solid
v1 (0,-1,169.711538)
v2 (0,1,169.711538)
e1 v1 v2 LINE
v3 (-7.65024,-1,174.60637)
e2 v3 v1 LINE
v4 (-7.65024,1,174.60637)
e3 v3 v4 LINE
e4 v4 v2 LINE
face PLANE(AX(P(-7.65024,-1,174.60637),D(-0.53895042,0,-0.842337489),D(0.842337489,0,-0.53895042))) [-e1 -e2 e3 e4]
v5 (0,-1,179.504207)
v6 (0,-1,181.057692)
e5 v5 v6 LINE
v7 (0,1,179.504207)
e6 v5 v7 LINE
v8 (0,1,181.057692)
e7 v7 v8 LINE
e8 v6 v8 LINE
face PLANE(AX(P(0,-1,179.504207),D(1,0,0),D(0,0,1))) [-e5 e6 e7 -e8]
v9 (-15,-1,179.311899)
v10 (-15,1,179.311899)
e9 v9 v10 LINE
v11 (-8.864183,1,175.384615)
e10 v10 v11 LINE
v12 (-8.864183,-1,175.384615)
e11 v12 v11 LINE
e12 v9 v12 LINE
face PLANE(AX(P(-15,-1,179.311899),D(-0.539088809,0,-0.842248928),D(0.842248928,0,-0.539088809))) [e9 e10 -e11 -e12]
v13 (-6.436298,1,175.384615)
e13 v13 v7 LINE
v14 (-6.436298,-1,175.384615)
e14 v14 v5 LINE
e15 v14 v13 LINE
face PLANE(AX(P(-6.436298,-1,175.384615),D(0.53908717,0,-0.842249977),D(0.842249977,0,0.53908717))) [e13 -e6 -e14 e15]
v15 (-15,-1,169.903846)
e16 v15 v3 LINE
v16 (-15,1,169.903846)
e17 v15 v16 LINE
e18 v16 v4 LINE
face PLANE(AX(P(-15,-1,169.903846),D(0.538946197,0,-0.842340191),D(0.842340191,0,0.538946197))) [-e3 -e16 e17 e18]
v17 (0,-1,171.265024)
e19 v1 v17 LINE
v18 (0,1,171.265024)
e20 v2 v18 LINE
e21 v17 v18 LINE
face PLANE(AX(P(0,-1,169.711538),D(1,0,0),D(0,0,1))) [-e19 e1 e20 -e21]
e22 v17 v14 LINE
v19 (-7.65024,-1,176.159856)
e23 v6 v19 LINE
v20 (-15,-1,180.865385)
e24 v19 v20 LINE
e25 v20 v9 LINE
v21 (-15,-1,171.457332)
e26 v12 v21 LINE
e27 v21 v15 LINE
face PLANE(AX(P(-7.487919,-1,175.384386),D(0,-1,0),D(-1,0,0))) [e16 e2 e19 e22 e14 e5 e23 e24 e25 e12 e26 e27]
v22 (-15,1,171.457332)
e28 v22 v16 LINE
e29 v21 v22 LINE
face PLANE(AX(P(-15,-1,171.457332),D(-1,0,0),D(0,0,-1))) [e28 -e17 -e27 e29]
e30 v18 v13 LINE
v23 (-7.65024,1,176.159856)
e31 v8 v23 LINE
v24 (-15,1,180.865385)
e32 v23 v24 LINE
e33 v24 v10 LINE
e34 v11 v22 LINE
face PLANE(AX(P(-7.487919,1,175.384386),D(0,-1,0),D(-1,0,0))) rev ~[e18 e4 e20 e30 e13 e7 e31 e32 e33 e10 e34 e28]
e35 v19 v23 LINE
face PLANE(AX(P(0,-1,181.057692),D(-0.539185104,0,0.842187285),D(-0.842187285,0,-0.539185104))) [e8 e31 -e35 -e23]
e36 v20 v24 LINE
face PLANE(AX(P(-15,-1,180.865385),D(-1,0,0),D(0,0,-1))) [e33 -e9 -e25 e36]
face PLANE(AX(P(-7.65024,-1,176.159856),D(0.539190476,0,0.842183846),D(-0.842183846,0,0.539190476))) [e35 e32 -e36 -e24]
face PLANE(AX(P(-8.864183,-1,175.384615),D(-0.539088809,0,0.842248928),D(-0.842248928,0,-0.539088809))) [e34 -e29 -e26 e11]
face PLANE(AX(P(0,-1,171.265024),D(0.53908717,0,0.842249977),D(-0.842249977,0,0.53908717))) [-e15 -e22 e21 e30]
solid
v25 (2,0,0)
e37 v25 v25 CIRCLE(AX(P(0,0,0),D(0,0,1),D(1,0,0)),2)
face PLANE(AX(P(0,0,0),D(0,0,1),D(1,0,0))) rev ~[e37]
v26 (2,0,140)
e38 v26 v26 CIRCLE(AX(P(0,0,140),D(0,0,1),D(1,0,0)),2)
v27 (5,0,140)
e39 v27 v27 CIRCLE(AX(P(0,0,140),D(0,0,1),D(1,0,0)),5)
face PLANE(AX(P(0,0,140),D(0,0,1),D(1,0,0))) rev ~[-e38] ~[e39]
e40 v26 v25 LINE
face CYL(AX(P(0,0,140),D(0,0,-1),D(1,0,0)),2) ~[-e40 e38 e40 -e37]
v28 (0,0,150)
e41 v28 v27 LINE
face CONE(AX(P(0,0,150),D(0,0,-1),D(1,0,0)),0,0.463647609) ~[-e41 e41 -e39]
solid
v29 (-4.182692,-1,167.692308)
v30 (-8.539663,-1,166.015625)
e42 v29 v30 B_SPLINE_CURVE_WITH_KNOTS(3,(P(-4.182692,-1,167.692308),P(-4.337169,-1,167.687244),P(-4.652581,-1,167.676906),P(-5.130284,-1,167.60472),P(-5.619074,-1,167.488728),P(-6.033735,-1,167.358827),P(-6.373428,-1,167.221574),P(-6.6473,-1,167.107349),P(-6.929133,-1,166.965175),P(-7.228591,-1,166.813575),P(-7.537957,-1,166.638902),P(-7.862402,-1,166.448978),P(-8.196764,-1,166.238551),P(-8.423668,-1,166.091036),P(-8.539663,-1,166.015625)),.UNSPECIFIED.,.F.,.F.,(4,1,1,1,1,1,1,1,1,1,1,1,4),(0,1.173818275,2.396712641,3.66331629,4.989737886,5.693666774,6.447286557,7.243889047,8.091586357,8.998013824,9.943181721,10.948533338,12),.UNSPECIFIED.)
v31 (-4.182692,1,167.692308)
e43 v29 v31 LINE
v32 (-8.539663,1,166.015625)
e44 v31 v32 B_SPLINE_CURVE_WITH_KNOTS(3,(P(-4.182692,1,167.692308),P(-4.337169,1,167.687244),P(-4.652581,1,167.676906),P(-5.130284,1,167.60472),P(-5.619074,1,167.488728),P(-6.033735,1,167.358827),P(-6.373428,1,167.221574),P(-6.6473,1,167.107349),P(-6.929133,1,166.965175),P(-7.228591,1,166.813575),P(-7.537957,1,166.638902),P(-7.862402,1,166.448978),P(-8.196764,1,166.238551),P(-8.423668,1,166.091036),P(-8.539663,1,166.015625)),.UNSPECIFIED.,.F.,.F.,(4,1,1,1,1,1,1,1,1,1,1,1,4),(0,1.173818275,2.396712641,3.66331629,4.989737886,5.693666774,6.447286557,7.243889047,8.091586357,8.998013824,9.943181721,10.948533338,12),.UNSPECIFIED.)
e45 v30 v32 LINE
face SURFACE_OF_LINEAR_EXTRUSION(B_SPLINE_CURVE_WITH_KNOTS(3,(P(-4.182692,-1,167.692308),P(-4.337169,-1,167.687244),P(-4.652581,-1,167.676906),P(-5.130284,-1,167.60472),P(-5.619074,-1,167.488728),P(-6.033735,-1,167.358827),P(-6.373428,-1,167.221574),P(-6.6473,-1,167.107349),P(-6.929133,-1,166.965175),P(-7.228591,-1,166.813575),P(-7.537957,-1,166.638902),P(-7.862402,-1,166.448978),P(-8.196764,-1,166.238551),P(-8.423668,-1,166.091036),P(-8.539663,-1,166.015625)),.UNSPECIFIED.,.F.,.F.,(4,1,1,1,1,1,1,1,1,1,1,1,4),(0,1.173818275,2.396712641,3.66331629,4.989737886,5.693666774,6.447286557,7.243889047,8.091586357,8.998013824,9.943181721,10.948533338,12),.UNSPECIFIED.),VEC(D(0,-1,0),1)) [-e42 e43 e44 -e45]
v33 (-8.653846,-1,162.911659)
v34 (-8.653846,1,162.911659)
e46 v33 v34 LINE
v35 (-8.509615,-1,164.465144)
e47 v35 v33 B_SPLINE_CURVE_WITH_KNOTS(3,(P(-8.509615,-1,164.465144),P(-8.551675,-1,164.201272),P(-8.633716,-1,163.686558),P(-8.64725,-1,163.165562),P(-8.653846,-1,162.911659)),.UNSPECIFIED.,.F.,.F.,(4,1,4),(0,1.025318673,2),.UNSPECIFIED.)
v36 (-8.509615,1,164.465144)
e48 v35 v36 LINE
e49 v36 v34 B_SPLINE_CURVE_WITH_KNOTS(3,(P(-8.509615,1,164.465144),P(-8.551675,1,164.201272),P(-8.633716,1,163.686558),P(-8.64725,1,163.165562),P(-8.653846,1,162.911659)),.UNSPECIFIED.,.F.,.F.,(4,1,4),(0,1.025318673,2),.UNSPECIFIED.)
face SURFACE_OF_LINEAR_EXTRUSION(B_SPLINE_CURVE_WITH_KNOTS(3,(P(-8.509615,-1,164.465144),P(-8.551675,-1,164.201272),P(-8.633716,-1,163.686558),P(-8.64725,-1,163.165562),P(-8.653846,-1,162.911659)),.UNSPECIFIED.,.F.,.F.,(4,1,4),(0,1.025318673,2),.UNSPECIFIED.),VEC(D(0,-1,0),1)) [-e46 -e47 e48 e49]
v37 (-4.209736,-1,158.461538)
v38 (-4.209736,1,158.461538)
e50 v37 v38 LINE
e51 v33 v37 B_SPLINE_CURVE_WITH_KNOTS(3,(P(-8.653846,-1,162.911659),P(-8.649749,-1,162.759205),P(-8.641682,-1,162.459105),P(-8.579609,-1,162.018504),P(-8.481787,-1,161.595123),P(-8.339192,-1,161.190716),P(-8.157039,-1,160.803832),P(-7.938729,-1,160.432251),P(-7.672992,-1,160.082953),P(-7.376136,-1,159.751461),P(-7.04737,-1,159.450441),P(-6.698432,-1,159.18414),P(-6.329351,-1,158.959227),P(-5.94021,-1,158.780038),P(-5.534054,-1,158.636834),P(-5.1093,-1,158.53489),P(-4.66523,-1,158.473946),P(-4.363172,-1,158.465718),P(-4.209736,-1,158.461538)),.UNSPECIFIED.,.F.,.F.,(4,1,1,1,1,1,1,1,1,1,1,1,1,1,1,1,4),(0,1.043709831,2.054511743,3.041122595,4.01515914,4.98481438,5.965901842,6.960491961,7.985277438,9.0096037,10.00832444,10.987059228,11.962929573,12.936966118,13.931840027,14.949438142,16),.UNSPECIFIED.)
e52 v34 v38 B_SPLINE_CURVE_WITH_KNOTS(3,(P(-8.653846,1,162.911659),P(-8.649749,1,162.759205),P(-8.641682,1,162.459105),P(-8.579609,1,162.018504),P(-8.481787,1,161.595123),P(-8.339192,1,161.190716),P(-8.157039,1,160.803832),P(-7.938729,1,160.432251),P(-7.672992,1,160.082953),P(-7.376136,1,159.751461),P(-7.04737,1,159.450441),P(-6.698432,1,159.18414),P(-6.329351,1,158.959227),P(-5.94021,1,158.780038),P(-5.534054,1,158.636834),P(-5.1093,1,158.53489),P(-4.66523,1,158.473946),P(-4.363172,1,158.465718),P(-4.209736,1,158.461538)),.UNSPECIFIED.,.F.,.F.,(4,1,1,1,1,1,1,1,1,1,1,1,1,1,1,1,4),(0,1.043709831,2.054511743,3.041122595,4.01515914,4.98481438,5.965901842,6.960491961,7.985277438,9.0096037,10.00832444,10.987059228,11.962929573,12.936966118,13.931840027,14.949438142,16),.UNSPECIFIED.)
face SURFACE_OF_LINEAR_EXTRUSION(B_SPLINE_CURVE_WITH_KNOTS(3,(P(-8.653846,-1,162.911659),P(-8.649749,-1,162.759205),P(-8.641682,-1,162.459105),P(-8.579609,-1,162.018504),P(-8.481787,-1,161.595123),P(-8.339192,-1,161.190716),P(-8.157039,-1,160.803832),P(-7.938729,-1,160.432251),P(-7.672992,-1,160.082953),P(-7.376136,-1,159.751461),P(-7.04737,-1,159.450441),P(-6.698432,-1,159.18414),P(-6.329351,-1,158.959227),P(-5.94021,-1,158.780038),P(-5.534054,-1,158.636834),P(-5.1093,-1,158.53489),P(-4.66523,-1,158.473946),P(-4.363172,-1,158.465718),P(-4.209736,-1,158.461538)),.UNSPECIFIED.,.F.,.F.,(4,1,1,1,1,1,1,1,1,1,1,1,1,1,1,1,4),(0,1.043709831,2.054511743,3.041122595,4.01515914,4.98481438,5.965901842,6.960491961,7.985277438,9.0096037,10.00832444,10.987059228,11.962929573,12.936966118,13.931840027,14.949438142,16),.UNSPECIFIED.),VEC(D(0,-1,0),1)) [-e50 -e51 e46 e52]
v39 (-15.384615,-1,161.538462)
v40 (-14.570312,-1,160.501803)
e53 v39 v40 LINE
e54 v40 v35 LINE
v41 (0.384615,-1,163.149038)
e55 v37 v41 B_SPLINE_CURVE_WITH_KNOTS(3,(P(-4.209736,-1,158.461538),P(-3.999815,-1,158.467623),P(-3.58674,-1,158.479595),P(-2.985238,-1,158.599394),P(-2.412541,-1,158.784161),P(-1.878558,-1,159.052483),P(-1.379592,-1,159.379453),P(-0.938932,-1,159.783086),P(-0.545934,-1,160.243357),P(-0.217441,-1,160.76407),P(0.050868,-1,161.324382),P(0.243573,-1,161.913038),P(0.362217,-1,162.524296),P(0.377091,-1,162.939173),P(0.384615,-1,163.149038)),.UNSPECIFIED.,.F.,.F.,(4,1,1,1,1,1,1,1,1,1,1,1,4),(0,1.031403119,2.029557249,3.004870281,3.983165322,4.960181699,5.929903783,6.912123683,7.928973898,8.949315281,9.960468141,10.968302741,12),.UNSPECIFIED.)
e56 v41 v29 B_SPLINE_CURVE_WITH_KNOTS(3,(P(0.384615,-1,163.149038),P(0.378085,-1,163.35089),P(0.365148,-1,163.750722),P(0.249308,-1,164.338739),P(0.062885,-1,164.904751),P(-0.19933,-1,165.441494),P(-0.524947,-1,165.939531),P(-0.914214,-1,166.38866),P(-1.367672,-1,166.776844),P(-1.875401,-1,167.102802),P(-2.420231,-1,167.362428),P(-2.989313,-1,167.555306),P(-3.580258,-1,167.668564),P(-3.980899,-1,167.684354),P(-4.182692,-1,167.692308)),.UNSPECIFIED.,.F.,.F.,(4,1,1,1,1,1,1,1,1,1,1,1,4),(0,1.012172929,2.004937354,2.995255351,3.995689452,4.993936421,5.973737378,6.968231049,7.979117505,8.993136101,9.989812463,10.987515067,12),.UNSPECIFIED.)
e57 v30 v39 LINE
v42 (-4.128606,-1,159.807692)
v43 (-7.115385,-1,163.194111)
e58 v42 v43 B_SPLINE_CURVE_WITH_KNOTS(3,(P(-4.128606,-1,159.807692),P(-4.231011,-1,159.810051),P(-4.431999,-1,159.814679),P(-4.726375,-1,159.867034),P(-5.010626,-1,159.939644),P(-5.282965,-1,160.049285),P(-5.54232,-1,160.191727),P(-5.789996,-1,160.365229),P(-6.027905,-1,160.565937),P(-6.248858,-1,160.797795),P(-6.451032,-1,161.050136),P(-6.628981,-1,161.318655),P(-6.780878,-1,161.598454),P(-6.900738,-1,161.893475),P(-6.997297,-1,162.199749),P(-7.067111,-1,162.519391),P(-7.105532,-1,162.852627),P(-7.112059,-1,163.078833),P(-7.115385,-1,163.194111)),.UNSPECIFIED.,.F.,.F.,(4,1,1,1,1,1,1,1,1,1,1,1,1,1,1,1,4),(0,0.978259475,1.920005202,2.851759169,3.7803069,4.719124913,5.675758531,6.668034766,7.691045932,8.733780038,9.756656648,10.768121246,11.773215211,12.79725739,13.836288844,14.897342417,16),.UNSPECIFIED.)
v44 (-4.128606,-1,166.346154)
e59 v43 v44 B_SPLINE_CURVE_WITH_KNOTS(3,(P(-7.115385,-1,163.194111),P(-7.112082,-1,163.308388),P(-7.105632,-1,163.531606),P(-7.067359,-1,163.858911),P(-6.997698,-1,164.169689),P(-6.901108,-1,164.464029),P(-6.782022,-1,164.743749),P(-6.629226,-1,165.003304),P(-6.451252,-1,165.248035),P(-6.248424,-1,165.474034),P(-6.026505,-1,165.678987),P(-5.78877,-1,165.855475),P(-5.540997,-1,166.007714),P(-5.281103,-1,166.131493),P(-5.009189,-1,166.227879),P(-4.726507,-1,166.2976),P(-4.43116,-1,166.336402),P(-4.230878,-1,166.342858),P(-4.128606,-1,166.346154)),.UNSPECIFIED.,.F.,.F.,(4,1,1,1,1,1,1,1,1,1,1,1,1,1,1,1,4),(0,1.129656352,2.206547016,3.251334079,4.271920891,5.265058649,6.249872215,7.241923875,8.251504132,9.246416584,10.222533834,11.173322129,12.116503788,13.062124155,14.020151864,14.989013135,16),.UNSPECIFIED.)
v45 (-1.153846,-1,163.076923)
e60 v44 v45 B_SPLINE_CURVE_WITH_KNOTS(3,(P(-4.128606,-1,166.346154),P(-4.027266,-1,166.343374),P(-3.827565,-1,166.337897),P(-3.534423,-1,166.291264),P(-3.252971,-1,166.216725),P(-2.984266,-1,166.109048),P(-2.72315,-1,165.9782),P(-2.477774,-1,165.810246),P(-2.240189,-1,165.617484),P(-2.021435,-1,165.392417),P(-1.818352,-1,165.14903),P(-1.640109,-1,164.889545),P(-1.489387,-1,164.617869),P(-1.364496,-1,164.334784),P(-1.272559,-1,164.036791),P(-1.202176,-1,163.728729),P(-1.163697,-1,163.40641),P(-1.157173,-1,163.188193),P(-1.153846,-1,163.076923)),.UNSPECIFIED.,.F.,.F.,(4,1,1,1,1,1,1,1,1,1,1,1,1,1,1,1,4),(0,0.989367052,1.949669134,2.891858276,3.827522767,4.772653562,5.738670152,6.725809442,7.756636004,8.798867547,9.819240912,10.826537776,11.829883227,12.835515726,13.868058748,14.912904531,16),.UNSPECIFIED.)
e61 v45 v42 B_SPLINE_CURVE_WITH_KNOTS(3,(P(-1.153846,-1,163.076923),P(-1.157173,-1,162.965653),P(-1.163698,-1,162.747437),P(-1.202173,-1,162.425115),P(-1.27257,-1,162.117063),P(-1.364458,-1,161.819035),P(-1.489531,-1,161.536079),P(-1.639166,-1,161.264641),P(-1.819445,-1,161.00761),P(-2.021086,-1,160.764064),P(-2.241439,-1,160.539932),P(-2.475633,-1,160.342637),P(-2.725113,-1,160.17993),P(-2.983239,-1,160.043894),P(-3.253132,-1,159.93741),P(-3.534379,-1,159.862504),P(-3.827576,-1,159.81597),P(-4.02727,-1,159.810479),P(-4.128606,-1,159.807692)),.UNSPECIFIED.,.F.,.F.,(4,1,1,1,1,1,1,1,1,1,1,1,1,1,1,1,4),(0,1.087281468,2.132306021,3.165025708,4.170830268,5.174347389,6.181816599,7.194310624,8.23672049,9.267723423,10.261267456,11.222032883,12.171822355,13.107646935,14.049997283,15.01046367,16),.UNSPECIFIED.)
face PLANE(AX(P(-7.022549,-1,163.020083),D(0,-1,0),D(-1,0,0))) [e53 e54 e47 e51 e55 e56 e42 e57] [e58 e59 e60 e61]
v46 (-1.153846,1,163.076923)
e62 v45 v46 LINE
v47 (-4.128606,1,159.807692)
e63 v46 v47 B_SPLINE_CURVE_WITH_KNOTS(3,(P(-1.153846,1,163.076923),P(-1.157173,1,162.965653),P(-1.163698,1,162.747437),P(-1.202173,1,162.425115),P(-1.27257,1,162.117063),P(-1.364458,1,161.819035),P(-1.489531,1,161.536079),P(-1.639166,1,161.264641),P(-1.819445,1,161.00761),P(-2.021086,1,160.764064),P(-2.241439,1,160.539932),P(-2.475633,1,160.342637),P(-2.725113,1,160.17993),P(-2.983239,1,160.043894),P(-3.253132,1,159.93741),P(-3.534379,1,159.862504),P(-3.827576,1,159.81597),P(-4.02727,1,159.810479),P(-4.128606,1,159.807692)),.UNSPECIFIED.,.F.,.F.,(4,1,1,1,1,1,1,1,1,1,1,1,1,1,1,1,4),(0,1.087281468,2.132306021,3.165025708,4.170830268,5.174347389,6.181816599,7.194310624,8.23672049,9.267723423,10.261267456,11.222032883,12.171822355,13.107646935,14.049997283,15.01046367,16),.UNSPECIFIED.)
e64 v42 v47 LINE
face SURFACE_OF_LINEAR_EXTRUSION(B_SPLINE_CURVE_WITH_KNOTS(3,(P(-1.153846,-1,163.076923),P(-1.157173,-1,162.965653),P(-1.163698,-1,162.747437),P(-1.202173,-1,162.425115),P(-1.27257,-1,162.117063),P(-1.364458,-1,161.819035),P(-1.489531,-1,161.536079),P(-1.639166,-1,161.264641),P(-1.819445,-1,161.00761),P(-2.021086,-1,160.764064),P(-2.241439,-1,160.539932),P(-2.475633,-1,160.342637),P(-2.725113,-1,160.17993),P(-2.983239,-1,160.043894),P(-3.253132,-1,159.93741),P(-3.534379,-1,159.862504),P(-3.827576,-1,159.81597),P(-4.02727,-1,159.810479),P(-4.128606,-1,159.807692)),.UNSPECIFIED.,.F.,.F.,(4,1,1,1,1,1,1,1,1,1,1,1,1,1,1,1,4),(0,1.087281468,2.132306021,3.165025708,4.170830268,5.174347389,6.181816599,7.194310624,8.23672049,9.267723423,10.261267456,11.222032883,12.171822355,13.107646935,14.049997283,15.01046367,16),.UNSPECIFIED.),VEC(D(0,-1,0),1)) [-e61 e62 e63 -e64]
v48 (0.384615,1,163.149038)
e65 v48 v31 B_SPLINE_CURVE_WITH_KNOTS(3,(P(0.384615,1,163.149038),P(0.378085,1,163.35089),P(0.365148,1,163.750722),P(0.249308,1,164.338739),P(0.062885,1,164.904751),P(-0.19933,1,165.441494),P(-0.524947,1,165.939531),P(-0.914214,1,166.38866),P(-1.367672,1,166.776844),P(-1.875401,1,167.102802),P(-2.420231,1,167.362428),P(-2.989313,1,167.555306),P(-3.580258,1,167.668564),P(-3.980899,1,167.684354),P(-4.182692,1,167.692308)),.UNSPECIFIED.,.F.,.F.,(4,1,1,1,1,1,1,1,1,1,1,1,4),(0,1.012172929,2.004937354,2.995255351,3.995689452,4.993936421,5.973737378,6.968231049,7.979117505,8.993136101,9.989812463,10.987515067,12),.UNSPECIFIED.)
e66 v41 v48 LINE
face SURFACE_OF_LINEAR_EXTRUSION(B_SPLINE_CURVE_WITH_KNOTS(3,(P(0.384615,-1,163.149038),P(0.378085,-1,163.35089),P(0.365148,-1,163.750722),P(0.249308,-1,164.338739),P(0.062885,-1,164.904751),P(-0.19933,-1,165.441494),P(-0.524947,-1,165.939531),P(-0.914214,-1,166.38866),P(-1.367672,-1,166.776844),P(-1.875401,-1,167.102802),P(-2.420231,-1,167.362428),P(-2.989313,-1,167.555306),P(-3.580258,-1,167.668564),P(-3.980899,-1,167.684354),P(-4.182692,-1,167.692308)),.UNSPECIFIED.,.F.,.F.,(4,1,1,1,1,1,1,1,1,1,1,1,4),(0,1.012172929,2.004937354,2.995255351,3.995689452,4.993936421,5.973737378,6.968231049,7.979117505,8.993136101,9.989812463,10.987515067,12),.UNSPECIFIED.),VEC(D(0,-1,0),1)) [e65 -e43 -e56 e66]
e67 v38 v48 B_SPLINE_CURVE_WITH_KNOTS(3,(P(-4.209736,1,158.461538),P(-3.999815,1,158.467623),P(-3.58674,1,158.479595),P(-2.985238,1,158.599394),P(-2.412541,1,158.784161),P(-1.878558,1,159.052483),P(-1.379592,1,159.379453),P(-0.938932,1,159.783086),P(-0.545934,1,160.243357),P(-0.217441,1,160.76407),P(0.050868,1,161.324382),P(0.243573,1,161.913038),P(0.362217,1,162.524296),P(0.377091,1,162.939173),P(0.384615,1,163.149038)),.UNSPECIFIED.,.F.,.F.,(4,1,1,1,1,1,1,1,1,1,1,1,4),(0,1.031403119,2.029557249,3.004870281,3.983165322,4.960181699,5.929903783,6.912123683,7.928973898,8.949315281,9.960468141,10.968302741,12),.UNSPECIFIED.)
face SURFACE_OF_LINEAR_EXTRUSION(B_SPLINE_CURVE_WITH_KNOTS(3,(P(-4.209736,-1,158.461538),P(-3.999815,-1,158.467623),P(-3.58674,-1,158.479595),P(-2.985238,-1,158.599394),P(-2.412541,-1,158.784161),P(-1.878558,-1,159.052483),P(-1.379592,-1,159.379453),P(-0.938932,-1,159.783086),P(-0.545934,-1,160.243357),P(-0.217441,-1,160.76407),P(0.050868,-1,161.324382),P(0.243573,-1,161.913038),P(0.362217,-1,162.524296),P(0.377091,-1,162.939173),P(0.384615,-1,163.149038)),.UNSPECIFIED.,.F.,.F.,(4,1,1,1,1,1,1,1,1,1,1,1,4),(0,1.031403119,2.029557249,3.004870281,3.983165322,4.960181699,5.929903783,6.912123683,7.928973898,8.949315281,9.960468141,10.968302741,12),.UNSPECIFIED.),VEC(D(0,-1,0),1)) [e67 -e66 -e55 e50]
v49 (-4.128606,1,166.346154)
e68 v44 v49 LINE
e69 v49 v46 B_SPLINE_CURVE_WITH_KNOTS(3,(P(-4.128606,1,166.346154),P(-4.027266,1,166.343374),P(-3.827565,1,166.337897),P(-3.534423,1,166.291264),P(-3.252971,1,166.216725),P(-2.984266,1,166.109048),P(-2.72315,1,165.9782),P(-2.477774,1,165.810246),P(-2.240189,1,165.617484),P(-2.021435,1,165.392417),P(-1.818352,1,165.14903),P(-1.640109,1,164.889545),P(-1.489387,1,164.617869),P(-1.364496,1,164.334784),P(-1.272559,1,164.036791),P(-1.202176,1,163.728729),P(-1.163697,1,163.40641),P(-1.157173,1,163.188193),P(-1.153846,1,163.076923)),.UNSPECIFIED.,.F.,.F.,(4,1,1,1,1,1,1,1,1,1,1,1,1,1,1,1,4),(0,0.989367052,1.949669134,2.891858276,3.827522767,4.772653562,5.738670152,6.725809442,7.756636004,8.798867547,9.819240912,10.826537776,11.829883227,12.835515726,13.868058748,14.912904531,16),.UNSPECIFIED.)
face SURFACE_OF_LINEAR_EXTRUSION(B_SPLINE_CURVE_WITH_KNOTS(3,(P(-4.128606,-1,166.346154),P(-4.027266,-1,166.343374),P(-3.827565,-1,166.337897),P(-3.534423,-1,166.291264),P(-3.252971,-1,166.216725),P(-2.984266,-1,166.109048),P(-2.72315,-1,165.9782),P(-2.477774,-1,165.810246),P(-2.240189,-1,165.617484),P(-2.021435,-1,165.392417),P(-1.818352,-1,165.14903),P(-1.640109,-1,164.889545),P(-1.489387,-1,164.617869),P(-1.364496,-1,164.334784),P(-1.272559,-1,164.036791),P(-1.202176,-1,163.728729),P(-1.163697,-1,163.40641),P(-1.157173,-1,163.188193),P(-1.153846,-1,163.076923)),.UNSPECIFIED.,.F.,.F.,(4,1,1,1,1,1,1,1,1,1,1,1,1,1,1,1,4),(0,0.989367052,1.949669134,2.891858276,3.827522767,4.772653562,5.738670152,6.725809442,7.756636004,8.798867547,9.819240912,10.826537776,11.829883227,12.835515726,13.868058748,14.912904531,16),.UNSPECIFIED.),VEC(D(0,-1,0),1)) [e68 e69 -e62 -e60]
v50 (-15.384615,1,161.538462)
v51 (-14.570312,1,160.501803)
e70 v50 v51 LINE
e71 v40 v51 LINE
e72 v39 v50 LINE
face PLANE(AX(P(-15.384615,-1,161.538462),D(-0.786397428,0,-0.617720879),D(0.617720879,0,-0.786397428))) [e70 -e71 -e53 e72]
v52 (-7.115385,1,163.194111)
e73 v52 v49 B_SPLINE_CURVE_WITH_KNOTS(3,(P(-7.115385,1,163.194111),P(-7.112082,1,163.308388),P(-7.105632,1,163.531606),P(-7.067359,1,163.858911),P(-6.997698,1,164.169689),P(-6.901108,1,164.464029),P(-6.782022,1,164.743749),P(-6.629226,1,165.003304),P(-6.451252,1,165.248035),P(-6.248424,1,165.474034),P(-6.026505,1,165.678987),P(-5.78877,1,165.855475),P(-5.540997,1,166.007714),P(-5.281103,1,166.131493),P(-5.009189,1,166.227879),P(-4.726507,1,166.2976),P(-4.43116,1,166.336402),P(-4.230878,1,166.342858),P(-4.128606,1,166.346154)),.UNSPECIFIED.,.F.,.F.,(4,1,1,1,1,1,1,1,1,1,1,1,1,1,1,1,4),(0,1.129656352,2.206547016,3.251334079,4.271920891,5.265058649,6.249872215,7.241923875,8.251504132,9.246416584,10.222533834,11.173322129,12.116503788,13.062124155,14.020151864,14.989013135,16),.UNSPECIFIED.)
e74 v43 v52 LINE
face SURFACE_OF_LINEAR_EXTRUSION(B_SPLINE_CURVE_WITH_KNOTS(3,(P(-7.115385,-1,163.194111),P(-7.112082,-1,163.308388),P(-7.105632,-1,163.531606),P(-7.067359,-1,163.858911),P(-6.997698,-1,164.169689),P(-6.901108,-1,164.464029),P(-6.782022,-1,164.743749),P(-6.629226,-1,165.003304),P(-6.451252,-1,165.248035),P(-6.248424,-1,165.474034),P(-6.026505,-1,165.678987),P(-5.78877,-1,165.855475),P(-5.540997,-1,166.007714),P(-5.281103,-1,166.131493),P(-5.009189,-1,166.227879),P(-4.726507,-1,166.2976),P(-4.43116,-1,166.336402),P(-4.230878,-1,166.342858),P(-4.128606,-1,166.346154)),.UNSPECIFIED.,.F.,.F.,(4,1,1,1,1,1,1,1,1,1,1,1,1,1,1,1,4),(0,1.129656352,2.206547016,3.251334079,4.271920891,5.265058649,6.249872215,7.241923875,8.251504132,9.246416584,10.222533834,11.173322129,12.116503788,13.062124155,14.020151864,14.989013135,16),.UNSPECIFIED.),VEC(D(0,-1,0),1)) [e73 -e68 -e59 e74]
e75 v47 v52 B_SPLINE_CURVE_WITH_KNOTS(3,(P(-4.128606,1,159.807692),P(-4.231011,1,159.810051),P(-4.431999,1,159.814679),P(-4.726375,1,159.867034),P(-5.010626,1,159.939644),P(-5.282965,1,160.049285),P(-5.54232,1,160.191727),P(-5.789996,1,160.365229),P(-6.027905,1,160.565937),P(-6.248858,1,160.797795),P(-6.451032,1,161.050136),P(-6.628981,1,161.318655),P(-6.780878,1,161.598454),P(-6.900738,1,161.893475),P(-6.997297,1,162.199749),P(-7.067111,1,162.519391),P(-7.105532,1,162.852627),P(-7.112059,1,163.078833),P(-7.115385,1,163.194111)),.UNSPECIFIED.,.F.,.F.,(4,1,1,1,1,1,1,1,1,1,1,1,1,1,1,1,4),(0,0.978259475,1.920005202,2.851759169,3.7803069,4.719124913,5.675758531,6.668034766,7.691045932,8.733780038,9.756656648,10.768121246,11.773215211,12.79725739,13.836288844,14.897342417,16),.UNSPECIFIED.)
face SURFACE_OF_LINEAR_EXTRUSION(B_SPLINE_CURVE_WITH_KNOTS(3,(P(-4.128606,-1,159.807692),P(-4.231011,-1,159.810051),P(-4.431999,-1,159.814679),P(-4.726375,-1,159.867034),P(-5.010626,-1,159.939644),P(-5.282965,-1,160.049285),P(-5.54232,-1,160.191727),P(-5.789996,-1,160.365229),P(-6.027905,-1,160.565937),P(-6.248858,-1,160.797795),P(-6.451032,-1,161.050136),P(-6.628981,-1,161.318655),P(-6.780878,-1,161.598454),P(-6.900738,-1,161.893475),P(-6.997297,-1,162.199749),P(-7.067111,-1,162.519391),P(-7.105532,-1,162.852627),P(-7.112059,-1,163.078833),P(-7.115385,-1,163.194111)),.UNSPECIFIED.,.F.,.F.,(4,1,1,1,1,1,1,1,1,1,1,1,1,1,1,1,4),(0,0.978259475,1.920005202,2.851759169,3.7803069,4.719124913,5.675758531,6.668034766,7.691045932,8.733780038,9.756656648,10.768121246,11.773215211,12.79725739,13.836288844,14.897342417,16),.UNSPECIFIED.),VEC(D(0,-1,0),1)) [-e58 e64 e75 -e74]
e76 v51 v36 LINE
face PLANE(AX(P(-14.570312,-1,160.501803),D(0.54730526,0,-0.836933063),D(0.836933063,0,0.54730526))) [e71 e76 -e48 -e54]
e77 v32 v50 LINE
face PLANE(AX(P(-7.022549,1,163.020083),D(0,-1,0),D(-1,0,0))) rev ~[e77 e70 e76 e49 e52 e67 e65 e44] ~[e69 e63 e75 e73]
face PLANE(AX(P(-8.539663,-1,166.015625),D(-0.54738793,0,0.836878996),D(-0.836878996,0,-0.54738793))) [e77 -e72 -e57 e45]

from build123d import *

# Parameters (mm, degrees)
BOSS_EXTRUDE1_DEPTH        = 1
BOSS_EXTRUDE1_DEPTH_BACK   = 1
BOSS_EXTRUDE1_2_DEPTH      = 1
BOSS_EXTRUDE1_2_DEPTH_BACK = 1


with BuildPart() as part:
    # Sketch2 → Revolve1 (revolve)
    with BuildSketch(Plane(origin=(0, 0, 0), x_dir=(1, 0, 0), z_dir=(0, 1, 0))):
        Polygon((0, -150), (5, -140), (2, -140), (2, 0), (0, 0), align=None)
    revolve(axis=Axis((0, 0, -41.949952025), (0, 0, 1)))


with BuildPart() as body_2:
    # Sketch3 → Boss-Extrude1 (new, two sides: drawn at the far end of the back side and taken through both)
    with BuildSketch(Plane(origin=(0, 0, 0), x_dir=(1, 0, 0), z_dir=(0, 1, 0)).offset(-BOSS_EXTRUDE1_DEPTH_BACK)):
        with BuildLine():
            Line((-15.384615385, -161.538461538), (-14.5703125, -160.501802885))
            Line((-14.5703125, -160.501802885), (-8.509615385, -164.465144231))
            add(Edge.make_bspline(
                [(-8.509615385, -164.465144231), (-8.551674787, -164.201271615), (-8.633716408, -163.686558243), (-8.64725046, -163.165561535), (-8.653846154, -162.911658654)],
                knots=[0, 0, 0, 0, 1.025318673, 2, 2, 2, 2], degree=3))
            add(Edge.make_bspline(
                [(-8.653846154, -162.911658654), (-8.649748532, -162.759205098), (-8.641682487, -162.45910481), (-8.579608839, -162.018504233), (-8.481786938, -161.595123063), (-8.339191529, -161.190716213), (-8.157038681, -160.803831781), (-7.93872886, -160.432250931), (-7.67299167, -160.082953357), (-7.376136314, -159.751460804), (-7.047369878, -159.450441004), (-6.698432357, -159.184140459), (-6.329351346, -158.959227404), (-5.940209844, -158.780037923), (-5.534053996, -158.636833796), (-5.109299766, -158.534889887), (-4.665230263, -158.473946284), (-4.363171943, -158.465718118), (-4.209735577, -158.461538462)],
                knots=[0, 0, 0, 0, 1.043709831, 2.054511743, 3.041122595, 4.01515914, 4.98481438, 5.965901842, 6.960491961, 7.985277438, 9.0096037, 10.00832444, 10.987059228, 11.962929573, 12.936966118, 13.931840027, 14.949438142, 16, 16, 16, 16], degree=3))
            add(Edge.make_bspline(
                [(-4.209735577, -158.461538462), (-3.999814704, -158.46762266), (-3.586740106, -158.479594923), (-2.985237872, -158.599394361), (-2.412540694, -158.784161413), (-1.878558323, -159.052483411), (-1.379592346, -159.379452551), (-0.938932231, -159.783085697), (-0.545933647, -160.243356809), (-0.217440639, -160.764070475), (0.050867747, -161.324382277), (0.243573381, -161.913037725), (0.362217491, -162.524295864), (0.377091411, -162.939172899), (0.384615385, -163.149038462)],
                knots=[0, 0, 0, 0, 1.031403119, 2.029557249, 3.004870281, 3.983165322, 4.960181699, 5.929903783, 6.912123683, 7.928973898, 8.949315281, 9.960468141, 10.968302741, 12, 12, 12, 12], degree=3))
            add(Edge.make_bspline(
                [(0.384615385, -163.149038462), (0.378084543, -163.35088996), (0.36514809, -163.750722436), (0.249307568, -164.33873873), (0.062885284, -164.904751258), (-0.199330062, -165.44149446), (-0.524946662, -165.939531208), (-0.91421359, -166.388660218), (-1.367671637, -166.776844482), (-1.87540114, -167.102802425), (-2.420231006, -167.362427857), (-2.98931297, -167.555305594), (-3.580257904, -167.66856415), (-3.980898774, -167.684354472), (-4.182692308, -167.692307692)],
                knots=[0, 0, 0, 0, 1.012172929, 2.004937354, 2.995255351, 3.995689452, 4.993936421, 5.973737378, 6.968231049, 7.979117505, 8.993136101, 9.989812463, 10.987515067, 12, 12, 12, 12], degree=3))
            add(Edge.make_bspline(
                [(-4.182692308, -167.692307692), (-4.337169093, -167.687244357), (-4.652581173, -167.676905992), (-5.13028415, -167.604720034), (-5.6190745, -167.488728056), (-6.03373533, -167.358827), (-6.373427567, -167.221574386), (-6.647299669, -167.107349216), (-6.92913284, -166.965174947), (-7.22859128, -166.813574742), (-7.53795742, -166.638902447), (-7.862401718, -166.448978235), (-8.196764265, -166.23855116), (-8.423667959, -166.091036177), (-8.539663462, -166.015625)],
                knots=[0, 0, 0, 0, 1.173818275, 2.396712641, 3.66331629, 4.989737886, 5.693666774, 6.447286557, 7.243889047, 8.091586357, 8.998013824, 9.943181721, 10.948533338, 12, 12, 12, 12], degree=3))
            Line((-8.539663462, -166.015625), (-15.384615385, -161.538461538))
        make_face()
        with BuildLine():
            add(Edge.make_bspline(
                [(-7.115384615, -163.194110577), (-7.112082335, -163.308388473), (-7.105632021, -163.531606401), (-7.067359224, -163.858911035), (-6.997698373, -164.169688556), (-6.901107529, -164.464029169), (-6.782022326, -164.743748653), (-6.629225554, -165.003303742), (-6.451252186, -165.248035491), (-6.248424191, -165.474033728), (-6.026504548, -165.678987203), (-5.788770456, -165.855474623), (-5.54099726, -166.007714295), (-5.281102705, -166.131493304), (-5.009189275, -166.2278794), (-4.726506739, -166.29760046), (-4.431159723, -166.336402255), (-4.230877567, -166.342857532), (-4.128605769, -166.346153846)],
                knots=[0, 0, 0, 0, 1.129656352, 2.206547016, 3.251334079, 4.271920891, 5.265058649, 6.249872215, 7.241923875, 8.251504132, 9.246416584, 10.222533834, 11.173322129, 12.116503788, 13.062124155, 14.020151864, 14.989013135, 16, 16, 16, 16], degree=3))
            add(Edge.make_bspline(
                [(-4.128605769, -166.346153846), (-4.027266421, -166.343374379), (-3.827564804, -166.337897099), (-3.534423223, -166.291263565), (-3.252971083, -166.216724728), (-2.984266134, -166.109048351), (-2.723149948, -165.978200106), (-2.47777361, -165.81024631), (-2.240188862, -165.61748415), (-2.021434681, -165.392416719), (-1.818352216, -165.14902973), (-1.640109433, -164.889544686), (-1.489386675, -164.617868563), (-1.364496219, -164.334783811), (-1.272559029, -164.036791143), (-1.202176111, -163.728729206), (-1.16369681, -163.406409539), (-1.157172802, -163.188193395), (-1.153846154, -163.076923077)],
                knots=[0, 0, 0, 0, 0.989367052, 1.949669134, 2.891858276, 3.827522767, 4.772653562, 5.738670152, 6.725809442, 7.756636004, 8.798867547, 9.819240912, 10.826537776, 11.829883227, 12.835515726, 13.868058748, 14.912904531, 16, 16, 16, 16], degree=3))
            add(Edge.make_bspline(
                [(-1.153846154, -163.076923077), (-1.157173061, -162.965652941), (-1.163697577, -162.747437155), (-1.202173196, -162.425114893), (-1.272569713, -162.117062539), (-1.364457508, -161.819035065), (-1.489531157, -161.5360794), (-1.639166208, -161.264640752), (-1.819445103, -161.00760987), (-2.021085993, -160.76406449), (-2.241438867, -160.539932405), (-2.475632853, -160.342636683), (-2.725113333, -160.179930127), (-2.983239431, -160.043893841), (-3.253131579, -159.937409713), (-3.534379419, -159.862503907), (-3.827576232, -159.815969582), (-4.027270268, -159.810478684), (-4.128605769, -159.807692308)],
                knots=[0, 0, 0, 0, 1.087281468, 2.132306021, 3.165025708, 4.170830268, 5.174347389, 6.181816599, 7.194310624, 8.23672049, 9.267723423, 10.261267456, 11.222032883, 12.171822355, 13.107646935, 14.049997283, 15.01046367, 16, 16, 16, 16], degree=3))
            add(Edge.make_bspline(
                [(-4.128605769, -159.807692308), (-4.231010988, -159.810050706), (-4.431999129, -159.814679475), (-4.726374626, -159.867033544), (-5.010625546, -159.939643703), (-5.282965192, -160.049285317), (-5.542319679, -160.191727449), (-5.78999599, -160.365228545), (-6.027905239, -160.565936502), (-6.248858458, -160.797795021), (-6.451032293, -161.05013644), (-6.628980787, -161.318654893), (-6.78087835, -161.598454103), (-6.900737553, -161.893475451), (-6.997297489, -162.19974945), (-7.067110856, -162.519390965), (-7.105532253, -162.852627334), (-7.112058665, -163.078832996), (-7.115384615, -163.194110577)],
                knots=[0, 0, 0, 0, 0.978259475, 1.920005202, 2.851759169, 3.7803069, 4.719124913, 5.675758531, 6.668034766, 7.691045932, 8.733780038, 9.756656648, 10.768121246, 11.773215211, 12.79725739, 13.836288844, 14.897342417, 16, 16, 16, 16], degree=3))
        make_face(mode=Mode.SUBTRACT)
    extrude(amount=BOSS_EXTRUDE1_DEPTH + BOSS_EXTRUDE1_DEPTH_BACK)


with BuildPart() as body_3:
    # Sketch3 → Boss-Extrude1 2 (new, two sides: drawn at the far end of the back side and taken through both)
    with BuildSketch(Plane(origin=(0, 0, 0), x_dir=(1, 0, 0), z_dir=(0, 1, 0)).offset(-BOSS_EXTRUDE1_2_DEPTH_BACK)):
        Polygon((-15, -180.865384615), (-15, -179.311899038), (-8.864182692, -175.384615385), (-15, -171.457331731), (-15, -169.903846154), (-7.650240385, -174.606370192), (0, -169.711538462), (0, -171.265024038), (-6.436298077, -175.384615385), (0, -179.504206731), (0, -181.057692308), (-7.650240385, -176.159855769), align=None)
    extrude(amount=BOSS_EXTRUDE1_2_DEPTH + BOSS_EXTRUDE1_2_DEPTH_BACK)


solid = Compound([part.part, body_2.part, body_3.part])
